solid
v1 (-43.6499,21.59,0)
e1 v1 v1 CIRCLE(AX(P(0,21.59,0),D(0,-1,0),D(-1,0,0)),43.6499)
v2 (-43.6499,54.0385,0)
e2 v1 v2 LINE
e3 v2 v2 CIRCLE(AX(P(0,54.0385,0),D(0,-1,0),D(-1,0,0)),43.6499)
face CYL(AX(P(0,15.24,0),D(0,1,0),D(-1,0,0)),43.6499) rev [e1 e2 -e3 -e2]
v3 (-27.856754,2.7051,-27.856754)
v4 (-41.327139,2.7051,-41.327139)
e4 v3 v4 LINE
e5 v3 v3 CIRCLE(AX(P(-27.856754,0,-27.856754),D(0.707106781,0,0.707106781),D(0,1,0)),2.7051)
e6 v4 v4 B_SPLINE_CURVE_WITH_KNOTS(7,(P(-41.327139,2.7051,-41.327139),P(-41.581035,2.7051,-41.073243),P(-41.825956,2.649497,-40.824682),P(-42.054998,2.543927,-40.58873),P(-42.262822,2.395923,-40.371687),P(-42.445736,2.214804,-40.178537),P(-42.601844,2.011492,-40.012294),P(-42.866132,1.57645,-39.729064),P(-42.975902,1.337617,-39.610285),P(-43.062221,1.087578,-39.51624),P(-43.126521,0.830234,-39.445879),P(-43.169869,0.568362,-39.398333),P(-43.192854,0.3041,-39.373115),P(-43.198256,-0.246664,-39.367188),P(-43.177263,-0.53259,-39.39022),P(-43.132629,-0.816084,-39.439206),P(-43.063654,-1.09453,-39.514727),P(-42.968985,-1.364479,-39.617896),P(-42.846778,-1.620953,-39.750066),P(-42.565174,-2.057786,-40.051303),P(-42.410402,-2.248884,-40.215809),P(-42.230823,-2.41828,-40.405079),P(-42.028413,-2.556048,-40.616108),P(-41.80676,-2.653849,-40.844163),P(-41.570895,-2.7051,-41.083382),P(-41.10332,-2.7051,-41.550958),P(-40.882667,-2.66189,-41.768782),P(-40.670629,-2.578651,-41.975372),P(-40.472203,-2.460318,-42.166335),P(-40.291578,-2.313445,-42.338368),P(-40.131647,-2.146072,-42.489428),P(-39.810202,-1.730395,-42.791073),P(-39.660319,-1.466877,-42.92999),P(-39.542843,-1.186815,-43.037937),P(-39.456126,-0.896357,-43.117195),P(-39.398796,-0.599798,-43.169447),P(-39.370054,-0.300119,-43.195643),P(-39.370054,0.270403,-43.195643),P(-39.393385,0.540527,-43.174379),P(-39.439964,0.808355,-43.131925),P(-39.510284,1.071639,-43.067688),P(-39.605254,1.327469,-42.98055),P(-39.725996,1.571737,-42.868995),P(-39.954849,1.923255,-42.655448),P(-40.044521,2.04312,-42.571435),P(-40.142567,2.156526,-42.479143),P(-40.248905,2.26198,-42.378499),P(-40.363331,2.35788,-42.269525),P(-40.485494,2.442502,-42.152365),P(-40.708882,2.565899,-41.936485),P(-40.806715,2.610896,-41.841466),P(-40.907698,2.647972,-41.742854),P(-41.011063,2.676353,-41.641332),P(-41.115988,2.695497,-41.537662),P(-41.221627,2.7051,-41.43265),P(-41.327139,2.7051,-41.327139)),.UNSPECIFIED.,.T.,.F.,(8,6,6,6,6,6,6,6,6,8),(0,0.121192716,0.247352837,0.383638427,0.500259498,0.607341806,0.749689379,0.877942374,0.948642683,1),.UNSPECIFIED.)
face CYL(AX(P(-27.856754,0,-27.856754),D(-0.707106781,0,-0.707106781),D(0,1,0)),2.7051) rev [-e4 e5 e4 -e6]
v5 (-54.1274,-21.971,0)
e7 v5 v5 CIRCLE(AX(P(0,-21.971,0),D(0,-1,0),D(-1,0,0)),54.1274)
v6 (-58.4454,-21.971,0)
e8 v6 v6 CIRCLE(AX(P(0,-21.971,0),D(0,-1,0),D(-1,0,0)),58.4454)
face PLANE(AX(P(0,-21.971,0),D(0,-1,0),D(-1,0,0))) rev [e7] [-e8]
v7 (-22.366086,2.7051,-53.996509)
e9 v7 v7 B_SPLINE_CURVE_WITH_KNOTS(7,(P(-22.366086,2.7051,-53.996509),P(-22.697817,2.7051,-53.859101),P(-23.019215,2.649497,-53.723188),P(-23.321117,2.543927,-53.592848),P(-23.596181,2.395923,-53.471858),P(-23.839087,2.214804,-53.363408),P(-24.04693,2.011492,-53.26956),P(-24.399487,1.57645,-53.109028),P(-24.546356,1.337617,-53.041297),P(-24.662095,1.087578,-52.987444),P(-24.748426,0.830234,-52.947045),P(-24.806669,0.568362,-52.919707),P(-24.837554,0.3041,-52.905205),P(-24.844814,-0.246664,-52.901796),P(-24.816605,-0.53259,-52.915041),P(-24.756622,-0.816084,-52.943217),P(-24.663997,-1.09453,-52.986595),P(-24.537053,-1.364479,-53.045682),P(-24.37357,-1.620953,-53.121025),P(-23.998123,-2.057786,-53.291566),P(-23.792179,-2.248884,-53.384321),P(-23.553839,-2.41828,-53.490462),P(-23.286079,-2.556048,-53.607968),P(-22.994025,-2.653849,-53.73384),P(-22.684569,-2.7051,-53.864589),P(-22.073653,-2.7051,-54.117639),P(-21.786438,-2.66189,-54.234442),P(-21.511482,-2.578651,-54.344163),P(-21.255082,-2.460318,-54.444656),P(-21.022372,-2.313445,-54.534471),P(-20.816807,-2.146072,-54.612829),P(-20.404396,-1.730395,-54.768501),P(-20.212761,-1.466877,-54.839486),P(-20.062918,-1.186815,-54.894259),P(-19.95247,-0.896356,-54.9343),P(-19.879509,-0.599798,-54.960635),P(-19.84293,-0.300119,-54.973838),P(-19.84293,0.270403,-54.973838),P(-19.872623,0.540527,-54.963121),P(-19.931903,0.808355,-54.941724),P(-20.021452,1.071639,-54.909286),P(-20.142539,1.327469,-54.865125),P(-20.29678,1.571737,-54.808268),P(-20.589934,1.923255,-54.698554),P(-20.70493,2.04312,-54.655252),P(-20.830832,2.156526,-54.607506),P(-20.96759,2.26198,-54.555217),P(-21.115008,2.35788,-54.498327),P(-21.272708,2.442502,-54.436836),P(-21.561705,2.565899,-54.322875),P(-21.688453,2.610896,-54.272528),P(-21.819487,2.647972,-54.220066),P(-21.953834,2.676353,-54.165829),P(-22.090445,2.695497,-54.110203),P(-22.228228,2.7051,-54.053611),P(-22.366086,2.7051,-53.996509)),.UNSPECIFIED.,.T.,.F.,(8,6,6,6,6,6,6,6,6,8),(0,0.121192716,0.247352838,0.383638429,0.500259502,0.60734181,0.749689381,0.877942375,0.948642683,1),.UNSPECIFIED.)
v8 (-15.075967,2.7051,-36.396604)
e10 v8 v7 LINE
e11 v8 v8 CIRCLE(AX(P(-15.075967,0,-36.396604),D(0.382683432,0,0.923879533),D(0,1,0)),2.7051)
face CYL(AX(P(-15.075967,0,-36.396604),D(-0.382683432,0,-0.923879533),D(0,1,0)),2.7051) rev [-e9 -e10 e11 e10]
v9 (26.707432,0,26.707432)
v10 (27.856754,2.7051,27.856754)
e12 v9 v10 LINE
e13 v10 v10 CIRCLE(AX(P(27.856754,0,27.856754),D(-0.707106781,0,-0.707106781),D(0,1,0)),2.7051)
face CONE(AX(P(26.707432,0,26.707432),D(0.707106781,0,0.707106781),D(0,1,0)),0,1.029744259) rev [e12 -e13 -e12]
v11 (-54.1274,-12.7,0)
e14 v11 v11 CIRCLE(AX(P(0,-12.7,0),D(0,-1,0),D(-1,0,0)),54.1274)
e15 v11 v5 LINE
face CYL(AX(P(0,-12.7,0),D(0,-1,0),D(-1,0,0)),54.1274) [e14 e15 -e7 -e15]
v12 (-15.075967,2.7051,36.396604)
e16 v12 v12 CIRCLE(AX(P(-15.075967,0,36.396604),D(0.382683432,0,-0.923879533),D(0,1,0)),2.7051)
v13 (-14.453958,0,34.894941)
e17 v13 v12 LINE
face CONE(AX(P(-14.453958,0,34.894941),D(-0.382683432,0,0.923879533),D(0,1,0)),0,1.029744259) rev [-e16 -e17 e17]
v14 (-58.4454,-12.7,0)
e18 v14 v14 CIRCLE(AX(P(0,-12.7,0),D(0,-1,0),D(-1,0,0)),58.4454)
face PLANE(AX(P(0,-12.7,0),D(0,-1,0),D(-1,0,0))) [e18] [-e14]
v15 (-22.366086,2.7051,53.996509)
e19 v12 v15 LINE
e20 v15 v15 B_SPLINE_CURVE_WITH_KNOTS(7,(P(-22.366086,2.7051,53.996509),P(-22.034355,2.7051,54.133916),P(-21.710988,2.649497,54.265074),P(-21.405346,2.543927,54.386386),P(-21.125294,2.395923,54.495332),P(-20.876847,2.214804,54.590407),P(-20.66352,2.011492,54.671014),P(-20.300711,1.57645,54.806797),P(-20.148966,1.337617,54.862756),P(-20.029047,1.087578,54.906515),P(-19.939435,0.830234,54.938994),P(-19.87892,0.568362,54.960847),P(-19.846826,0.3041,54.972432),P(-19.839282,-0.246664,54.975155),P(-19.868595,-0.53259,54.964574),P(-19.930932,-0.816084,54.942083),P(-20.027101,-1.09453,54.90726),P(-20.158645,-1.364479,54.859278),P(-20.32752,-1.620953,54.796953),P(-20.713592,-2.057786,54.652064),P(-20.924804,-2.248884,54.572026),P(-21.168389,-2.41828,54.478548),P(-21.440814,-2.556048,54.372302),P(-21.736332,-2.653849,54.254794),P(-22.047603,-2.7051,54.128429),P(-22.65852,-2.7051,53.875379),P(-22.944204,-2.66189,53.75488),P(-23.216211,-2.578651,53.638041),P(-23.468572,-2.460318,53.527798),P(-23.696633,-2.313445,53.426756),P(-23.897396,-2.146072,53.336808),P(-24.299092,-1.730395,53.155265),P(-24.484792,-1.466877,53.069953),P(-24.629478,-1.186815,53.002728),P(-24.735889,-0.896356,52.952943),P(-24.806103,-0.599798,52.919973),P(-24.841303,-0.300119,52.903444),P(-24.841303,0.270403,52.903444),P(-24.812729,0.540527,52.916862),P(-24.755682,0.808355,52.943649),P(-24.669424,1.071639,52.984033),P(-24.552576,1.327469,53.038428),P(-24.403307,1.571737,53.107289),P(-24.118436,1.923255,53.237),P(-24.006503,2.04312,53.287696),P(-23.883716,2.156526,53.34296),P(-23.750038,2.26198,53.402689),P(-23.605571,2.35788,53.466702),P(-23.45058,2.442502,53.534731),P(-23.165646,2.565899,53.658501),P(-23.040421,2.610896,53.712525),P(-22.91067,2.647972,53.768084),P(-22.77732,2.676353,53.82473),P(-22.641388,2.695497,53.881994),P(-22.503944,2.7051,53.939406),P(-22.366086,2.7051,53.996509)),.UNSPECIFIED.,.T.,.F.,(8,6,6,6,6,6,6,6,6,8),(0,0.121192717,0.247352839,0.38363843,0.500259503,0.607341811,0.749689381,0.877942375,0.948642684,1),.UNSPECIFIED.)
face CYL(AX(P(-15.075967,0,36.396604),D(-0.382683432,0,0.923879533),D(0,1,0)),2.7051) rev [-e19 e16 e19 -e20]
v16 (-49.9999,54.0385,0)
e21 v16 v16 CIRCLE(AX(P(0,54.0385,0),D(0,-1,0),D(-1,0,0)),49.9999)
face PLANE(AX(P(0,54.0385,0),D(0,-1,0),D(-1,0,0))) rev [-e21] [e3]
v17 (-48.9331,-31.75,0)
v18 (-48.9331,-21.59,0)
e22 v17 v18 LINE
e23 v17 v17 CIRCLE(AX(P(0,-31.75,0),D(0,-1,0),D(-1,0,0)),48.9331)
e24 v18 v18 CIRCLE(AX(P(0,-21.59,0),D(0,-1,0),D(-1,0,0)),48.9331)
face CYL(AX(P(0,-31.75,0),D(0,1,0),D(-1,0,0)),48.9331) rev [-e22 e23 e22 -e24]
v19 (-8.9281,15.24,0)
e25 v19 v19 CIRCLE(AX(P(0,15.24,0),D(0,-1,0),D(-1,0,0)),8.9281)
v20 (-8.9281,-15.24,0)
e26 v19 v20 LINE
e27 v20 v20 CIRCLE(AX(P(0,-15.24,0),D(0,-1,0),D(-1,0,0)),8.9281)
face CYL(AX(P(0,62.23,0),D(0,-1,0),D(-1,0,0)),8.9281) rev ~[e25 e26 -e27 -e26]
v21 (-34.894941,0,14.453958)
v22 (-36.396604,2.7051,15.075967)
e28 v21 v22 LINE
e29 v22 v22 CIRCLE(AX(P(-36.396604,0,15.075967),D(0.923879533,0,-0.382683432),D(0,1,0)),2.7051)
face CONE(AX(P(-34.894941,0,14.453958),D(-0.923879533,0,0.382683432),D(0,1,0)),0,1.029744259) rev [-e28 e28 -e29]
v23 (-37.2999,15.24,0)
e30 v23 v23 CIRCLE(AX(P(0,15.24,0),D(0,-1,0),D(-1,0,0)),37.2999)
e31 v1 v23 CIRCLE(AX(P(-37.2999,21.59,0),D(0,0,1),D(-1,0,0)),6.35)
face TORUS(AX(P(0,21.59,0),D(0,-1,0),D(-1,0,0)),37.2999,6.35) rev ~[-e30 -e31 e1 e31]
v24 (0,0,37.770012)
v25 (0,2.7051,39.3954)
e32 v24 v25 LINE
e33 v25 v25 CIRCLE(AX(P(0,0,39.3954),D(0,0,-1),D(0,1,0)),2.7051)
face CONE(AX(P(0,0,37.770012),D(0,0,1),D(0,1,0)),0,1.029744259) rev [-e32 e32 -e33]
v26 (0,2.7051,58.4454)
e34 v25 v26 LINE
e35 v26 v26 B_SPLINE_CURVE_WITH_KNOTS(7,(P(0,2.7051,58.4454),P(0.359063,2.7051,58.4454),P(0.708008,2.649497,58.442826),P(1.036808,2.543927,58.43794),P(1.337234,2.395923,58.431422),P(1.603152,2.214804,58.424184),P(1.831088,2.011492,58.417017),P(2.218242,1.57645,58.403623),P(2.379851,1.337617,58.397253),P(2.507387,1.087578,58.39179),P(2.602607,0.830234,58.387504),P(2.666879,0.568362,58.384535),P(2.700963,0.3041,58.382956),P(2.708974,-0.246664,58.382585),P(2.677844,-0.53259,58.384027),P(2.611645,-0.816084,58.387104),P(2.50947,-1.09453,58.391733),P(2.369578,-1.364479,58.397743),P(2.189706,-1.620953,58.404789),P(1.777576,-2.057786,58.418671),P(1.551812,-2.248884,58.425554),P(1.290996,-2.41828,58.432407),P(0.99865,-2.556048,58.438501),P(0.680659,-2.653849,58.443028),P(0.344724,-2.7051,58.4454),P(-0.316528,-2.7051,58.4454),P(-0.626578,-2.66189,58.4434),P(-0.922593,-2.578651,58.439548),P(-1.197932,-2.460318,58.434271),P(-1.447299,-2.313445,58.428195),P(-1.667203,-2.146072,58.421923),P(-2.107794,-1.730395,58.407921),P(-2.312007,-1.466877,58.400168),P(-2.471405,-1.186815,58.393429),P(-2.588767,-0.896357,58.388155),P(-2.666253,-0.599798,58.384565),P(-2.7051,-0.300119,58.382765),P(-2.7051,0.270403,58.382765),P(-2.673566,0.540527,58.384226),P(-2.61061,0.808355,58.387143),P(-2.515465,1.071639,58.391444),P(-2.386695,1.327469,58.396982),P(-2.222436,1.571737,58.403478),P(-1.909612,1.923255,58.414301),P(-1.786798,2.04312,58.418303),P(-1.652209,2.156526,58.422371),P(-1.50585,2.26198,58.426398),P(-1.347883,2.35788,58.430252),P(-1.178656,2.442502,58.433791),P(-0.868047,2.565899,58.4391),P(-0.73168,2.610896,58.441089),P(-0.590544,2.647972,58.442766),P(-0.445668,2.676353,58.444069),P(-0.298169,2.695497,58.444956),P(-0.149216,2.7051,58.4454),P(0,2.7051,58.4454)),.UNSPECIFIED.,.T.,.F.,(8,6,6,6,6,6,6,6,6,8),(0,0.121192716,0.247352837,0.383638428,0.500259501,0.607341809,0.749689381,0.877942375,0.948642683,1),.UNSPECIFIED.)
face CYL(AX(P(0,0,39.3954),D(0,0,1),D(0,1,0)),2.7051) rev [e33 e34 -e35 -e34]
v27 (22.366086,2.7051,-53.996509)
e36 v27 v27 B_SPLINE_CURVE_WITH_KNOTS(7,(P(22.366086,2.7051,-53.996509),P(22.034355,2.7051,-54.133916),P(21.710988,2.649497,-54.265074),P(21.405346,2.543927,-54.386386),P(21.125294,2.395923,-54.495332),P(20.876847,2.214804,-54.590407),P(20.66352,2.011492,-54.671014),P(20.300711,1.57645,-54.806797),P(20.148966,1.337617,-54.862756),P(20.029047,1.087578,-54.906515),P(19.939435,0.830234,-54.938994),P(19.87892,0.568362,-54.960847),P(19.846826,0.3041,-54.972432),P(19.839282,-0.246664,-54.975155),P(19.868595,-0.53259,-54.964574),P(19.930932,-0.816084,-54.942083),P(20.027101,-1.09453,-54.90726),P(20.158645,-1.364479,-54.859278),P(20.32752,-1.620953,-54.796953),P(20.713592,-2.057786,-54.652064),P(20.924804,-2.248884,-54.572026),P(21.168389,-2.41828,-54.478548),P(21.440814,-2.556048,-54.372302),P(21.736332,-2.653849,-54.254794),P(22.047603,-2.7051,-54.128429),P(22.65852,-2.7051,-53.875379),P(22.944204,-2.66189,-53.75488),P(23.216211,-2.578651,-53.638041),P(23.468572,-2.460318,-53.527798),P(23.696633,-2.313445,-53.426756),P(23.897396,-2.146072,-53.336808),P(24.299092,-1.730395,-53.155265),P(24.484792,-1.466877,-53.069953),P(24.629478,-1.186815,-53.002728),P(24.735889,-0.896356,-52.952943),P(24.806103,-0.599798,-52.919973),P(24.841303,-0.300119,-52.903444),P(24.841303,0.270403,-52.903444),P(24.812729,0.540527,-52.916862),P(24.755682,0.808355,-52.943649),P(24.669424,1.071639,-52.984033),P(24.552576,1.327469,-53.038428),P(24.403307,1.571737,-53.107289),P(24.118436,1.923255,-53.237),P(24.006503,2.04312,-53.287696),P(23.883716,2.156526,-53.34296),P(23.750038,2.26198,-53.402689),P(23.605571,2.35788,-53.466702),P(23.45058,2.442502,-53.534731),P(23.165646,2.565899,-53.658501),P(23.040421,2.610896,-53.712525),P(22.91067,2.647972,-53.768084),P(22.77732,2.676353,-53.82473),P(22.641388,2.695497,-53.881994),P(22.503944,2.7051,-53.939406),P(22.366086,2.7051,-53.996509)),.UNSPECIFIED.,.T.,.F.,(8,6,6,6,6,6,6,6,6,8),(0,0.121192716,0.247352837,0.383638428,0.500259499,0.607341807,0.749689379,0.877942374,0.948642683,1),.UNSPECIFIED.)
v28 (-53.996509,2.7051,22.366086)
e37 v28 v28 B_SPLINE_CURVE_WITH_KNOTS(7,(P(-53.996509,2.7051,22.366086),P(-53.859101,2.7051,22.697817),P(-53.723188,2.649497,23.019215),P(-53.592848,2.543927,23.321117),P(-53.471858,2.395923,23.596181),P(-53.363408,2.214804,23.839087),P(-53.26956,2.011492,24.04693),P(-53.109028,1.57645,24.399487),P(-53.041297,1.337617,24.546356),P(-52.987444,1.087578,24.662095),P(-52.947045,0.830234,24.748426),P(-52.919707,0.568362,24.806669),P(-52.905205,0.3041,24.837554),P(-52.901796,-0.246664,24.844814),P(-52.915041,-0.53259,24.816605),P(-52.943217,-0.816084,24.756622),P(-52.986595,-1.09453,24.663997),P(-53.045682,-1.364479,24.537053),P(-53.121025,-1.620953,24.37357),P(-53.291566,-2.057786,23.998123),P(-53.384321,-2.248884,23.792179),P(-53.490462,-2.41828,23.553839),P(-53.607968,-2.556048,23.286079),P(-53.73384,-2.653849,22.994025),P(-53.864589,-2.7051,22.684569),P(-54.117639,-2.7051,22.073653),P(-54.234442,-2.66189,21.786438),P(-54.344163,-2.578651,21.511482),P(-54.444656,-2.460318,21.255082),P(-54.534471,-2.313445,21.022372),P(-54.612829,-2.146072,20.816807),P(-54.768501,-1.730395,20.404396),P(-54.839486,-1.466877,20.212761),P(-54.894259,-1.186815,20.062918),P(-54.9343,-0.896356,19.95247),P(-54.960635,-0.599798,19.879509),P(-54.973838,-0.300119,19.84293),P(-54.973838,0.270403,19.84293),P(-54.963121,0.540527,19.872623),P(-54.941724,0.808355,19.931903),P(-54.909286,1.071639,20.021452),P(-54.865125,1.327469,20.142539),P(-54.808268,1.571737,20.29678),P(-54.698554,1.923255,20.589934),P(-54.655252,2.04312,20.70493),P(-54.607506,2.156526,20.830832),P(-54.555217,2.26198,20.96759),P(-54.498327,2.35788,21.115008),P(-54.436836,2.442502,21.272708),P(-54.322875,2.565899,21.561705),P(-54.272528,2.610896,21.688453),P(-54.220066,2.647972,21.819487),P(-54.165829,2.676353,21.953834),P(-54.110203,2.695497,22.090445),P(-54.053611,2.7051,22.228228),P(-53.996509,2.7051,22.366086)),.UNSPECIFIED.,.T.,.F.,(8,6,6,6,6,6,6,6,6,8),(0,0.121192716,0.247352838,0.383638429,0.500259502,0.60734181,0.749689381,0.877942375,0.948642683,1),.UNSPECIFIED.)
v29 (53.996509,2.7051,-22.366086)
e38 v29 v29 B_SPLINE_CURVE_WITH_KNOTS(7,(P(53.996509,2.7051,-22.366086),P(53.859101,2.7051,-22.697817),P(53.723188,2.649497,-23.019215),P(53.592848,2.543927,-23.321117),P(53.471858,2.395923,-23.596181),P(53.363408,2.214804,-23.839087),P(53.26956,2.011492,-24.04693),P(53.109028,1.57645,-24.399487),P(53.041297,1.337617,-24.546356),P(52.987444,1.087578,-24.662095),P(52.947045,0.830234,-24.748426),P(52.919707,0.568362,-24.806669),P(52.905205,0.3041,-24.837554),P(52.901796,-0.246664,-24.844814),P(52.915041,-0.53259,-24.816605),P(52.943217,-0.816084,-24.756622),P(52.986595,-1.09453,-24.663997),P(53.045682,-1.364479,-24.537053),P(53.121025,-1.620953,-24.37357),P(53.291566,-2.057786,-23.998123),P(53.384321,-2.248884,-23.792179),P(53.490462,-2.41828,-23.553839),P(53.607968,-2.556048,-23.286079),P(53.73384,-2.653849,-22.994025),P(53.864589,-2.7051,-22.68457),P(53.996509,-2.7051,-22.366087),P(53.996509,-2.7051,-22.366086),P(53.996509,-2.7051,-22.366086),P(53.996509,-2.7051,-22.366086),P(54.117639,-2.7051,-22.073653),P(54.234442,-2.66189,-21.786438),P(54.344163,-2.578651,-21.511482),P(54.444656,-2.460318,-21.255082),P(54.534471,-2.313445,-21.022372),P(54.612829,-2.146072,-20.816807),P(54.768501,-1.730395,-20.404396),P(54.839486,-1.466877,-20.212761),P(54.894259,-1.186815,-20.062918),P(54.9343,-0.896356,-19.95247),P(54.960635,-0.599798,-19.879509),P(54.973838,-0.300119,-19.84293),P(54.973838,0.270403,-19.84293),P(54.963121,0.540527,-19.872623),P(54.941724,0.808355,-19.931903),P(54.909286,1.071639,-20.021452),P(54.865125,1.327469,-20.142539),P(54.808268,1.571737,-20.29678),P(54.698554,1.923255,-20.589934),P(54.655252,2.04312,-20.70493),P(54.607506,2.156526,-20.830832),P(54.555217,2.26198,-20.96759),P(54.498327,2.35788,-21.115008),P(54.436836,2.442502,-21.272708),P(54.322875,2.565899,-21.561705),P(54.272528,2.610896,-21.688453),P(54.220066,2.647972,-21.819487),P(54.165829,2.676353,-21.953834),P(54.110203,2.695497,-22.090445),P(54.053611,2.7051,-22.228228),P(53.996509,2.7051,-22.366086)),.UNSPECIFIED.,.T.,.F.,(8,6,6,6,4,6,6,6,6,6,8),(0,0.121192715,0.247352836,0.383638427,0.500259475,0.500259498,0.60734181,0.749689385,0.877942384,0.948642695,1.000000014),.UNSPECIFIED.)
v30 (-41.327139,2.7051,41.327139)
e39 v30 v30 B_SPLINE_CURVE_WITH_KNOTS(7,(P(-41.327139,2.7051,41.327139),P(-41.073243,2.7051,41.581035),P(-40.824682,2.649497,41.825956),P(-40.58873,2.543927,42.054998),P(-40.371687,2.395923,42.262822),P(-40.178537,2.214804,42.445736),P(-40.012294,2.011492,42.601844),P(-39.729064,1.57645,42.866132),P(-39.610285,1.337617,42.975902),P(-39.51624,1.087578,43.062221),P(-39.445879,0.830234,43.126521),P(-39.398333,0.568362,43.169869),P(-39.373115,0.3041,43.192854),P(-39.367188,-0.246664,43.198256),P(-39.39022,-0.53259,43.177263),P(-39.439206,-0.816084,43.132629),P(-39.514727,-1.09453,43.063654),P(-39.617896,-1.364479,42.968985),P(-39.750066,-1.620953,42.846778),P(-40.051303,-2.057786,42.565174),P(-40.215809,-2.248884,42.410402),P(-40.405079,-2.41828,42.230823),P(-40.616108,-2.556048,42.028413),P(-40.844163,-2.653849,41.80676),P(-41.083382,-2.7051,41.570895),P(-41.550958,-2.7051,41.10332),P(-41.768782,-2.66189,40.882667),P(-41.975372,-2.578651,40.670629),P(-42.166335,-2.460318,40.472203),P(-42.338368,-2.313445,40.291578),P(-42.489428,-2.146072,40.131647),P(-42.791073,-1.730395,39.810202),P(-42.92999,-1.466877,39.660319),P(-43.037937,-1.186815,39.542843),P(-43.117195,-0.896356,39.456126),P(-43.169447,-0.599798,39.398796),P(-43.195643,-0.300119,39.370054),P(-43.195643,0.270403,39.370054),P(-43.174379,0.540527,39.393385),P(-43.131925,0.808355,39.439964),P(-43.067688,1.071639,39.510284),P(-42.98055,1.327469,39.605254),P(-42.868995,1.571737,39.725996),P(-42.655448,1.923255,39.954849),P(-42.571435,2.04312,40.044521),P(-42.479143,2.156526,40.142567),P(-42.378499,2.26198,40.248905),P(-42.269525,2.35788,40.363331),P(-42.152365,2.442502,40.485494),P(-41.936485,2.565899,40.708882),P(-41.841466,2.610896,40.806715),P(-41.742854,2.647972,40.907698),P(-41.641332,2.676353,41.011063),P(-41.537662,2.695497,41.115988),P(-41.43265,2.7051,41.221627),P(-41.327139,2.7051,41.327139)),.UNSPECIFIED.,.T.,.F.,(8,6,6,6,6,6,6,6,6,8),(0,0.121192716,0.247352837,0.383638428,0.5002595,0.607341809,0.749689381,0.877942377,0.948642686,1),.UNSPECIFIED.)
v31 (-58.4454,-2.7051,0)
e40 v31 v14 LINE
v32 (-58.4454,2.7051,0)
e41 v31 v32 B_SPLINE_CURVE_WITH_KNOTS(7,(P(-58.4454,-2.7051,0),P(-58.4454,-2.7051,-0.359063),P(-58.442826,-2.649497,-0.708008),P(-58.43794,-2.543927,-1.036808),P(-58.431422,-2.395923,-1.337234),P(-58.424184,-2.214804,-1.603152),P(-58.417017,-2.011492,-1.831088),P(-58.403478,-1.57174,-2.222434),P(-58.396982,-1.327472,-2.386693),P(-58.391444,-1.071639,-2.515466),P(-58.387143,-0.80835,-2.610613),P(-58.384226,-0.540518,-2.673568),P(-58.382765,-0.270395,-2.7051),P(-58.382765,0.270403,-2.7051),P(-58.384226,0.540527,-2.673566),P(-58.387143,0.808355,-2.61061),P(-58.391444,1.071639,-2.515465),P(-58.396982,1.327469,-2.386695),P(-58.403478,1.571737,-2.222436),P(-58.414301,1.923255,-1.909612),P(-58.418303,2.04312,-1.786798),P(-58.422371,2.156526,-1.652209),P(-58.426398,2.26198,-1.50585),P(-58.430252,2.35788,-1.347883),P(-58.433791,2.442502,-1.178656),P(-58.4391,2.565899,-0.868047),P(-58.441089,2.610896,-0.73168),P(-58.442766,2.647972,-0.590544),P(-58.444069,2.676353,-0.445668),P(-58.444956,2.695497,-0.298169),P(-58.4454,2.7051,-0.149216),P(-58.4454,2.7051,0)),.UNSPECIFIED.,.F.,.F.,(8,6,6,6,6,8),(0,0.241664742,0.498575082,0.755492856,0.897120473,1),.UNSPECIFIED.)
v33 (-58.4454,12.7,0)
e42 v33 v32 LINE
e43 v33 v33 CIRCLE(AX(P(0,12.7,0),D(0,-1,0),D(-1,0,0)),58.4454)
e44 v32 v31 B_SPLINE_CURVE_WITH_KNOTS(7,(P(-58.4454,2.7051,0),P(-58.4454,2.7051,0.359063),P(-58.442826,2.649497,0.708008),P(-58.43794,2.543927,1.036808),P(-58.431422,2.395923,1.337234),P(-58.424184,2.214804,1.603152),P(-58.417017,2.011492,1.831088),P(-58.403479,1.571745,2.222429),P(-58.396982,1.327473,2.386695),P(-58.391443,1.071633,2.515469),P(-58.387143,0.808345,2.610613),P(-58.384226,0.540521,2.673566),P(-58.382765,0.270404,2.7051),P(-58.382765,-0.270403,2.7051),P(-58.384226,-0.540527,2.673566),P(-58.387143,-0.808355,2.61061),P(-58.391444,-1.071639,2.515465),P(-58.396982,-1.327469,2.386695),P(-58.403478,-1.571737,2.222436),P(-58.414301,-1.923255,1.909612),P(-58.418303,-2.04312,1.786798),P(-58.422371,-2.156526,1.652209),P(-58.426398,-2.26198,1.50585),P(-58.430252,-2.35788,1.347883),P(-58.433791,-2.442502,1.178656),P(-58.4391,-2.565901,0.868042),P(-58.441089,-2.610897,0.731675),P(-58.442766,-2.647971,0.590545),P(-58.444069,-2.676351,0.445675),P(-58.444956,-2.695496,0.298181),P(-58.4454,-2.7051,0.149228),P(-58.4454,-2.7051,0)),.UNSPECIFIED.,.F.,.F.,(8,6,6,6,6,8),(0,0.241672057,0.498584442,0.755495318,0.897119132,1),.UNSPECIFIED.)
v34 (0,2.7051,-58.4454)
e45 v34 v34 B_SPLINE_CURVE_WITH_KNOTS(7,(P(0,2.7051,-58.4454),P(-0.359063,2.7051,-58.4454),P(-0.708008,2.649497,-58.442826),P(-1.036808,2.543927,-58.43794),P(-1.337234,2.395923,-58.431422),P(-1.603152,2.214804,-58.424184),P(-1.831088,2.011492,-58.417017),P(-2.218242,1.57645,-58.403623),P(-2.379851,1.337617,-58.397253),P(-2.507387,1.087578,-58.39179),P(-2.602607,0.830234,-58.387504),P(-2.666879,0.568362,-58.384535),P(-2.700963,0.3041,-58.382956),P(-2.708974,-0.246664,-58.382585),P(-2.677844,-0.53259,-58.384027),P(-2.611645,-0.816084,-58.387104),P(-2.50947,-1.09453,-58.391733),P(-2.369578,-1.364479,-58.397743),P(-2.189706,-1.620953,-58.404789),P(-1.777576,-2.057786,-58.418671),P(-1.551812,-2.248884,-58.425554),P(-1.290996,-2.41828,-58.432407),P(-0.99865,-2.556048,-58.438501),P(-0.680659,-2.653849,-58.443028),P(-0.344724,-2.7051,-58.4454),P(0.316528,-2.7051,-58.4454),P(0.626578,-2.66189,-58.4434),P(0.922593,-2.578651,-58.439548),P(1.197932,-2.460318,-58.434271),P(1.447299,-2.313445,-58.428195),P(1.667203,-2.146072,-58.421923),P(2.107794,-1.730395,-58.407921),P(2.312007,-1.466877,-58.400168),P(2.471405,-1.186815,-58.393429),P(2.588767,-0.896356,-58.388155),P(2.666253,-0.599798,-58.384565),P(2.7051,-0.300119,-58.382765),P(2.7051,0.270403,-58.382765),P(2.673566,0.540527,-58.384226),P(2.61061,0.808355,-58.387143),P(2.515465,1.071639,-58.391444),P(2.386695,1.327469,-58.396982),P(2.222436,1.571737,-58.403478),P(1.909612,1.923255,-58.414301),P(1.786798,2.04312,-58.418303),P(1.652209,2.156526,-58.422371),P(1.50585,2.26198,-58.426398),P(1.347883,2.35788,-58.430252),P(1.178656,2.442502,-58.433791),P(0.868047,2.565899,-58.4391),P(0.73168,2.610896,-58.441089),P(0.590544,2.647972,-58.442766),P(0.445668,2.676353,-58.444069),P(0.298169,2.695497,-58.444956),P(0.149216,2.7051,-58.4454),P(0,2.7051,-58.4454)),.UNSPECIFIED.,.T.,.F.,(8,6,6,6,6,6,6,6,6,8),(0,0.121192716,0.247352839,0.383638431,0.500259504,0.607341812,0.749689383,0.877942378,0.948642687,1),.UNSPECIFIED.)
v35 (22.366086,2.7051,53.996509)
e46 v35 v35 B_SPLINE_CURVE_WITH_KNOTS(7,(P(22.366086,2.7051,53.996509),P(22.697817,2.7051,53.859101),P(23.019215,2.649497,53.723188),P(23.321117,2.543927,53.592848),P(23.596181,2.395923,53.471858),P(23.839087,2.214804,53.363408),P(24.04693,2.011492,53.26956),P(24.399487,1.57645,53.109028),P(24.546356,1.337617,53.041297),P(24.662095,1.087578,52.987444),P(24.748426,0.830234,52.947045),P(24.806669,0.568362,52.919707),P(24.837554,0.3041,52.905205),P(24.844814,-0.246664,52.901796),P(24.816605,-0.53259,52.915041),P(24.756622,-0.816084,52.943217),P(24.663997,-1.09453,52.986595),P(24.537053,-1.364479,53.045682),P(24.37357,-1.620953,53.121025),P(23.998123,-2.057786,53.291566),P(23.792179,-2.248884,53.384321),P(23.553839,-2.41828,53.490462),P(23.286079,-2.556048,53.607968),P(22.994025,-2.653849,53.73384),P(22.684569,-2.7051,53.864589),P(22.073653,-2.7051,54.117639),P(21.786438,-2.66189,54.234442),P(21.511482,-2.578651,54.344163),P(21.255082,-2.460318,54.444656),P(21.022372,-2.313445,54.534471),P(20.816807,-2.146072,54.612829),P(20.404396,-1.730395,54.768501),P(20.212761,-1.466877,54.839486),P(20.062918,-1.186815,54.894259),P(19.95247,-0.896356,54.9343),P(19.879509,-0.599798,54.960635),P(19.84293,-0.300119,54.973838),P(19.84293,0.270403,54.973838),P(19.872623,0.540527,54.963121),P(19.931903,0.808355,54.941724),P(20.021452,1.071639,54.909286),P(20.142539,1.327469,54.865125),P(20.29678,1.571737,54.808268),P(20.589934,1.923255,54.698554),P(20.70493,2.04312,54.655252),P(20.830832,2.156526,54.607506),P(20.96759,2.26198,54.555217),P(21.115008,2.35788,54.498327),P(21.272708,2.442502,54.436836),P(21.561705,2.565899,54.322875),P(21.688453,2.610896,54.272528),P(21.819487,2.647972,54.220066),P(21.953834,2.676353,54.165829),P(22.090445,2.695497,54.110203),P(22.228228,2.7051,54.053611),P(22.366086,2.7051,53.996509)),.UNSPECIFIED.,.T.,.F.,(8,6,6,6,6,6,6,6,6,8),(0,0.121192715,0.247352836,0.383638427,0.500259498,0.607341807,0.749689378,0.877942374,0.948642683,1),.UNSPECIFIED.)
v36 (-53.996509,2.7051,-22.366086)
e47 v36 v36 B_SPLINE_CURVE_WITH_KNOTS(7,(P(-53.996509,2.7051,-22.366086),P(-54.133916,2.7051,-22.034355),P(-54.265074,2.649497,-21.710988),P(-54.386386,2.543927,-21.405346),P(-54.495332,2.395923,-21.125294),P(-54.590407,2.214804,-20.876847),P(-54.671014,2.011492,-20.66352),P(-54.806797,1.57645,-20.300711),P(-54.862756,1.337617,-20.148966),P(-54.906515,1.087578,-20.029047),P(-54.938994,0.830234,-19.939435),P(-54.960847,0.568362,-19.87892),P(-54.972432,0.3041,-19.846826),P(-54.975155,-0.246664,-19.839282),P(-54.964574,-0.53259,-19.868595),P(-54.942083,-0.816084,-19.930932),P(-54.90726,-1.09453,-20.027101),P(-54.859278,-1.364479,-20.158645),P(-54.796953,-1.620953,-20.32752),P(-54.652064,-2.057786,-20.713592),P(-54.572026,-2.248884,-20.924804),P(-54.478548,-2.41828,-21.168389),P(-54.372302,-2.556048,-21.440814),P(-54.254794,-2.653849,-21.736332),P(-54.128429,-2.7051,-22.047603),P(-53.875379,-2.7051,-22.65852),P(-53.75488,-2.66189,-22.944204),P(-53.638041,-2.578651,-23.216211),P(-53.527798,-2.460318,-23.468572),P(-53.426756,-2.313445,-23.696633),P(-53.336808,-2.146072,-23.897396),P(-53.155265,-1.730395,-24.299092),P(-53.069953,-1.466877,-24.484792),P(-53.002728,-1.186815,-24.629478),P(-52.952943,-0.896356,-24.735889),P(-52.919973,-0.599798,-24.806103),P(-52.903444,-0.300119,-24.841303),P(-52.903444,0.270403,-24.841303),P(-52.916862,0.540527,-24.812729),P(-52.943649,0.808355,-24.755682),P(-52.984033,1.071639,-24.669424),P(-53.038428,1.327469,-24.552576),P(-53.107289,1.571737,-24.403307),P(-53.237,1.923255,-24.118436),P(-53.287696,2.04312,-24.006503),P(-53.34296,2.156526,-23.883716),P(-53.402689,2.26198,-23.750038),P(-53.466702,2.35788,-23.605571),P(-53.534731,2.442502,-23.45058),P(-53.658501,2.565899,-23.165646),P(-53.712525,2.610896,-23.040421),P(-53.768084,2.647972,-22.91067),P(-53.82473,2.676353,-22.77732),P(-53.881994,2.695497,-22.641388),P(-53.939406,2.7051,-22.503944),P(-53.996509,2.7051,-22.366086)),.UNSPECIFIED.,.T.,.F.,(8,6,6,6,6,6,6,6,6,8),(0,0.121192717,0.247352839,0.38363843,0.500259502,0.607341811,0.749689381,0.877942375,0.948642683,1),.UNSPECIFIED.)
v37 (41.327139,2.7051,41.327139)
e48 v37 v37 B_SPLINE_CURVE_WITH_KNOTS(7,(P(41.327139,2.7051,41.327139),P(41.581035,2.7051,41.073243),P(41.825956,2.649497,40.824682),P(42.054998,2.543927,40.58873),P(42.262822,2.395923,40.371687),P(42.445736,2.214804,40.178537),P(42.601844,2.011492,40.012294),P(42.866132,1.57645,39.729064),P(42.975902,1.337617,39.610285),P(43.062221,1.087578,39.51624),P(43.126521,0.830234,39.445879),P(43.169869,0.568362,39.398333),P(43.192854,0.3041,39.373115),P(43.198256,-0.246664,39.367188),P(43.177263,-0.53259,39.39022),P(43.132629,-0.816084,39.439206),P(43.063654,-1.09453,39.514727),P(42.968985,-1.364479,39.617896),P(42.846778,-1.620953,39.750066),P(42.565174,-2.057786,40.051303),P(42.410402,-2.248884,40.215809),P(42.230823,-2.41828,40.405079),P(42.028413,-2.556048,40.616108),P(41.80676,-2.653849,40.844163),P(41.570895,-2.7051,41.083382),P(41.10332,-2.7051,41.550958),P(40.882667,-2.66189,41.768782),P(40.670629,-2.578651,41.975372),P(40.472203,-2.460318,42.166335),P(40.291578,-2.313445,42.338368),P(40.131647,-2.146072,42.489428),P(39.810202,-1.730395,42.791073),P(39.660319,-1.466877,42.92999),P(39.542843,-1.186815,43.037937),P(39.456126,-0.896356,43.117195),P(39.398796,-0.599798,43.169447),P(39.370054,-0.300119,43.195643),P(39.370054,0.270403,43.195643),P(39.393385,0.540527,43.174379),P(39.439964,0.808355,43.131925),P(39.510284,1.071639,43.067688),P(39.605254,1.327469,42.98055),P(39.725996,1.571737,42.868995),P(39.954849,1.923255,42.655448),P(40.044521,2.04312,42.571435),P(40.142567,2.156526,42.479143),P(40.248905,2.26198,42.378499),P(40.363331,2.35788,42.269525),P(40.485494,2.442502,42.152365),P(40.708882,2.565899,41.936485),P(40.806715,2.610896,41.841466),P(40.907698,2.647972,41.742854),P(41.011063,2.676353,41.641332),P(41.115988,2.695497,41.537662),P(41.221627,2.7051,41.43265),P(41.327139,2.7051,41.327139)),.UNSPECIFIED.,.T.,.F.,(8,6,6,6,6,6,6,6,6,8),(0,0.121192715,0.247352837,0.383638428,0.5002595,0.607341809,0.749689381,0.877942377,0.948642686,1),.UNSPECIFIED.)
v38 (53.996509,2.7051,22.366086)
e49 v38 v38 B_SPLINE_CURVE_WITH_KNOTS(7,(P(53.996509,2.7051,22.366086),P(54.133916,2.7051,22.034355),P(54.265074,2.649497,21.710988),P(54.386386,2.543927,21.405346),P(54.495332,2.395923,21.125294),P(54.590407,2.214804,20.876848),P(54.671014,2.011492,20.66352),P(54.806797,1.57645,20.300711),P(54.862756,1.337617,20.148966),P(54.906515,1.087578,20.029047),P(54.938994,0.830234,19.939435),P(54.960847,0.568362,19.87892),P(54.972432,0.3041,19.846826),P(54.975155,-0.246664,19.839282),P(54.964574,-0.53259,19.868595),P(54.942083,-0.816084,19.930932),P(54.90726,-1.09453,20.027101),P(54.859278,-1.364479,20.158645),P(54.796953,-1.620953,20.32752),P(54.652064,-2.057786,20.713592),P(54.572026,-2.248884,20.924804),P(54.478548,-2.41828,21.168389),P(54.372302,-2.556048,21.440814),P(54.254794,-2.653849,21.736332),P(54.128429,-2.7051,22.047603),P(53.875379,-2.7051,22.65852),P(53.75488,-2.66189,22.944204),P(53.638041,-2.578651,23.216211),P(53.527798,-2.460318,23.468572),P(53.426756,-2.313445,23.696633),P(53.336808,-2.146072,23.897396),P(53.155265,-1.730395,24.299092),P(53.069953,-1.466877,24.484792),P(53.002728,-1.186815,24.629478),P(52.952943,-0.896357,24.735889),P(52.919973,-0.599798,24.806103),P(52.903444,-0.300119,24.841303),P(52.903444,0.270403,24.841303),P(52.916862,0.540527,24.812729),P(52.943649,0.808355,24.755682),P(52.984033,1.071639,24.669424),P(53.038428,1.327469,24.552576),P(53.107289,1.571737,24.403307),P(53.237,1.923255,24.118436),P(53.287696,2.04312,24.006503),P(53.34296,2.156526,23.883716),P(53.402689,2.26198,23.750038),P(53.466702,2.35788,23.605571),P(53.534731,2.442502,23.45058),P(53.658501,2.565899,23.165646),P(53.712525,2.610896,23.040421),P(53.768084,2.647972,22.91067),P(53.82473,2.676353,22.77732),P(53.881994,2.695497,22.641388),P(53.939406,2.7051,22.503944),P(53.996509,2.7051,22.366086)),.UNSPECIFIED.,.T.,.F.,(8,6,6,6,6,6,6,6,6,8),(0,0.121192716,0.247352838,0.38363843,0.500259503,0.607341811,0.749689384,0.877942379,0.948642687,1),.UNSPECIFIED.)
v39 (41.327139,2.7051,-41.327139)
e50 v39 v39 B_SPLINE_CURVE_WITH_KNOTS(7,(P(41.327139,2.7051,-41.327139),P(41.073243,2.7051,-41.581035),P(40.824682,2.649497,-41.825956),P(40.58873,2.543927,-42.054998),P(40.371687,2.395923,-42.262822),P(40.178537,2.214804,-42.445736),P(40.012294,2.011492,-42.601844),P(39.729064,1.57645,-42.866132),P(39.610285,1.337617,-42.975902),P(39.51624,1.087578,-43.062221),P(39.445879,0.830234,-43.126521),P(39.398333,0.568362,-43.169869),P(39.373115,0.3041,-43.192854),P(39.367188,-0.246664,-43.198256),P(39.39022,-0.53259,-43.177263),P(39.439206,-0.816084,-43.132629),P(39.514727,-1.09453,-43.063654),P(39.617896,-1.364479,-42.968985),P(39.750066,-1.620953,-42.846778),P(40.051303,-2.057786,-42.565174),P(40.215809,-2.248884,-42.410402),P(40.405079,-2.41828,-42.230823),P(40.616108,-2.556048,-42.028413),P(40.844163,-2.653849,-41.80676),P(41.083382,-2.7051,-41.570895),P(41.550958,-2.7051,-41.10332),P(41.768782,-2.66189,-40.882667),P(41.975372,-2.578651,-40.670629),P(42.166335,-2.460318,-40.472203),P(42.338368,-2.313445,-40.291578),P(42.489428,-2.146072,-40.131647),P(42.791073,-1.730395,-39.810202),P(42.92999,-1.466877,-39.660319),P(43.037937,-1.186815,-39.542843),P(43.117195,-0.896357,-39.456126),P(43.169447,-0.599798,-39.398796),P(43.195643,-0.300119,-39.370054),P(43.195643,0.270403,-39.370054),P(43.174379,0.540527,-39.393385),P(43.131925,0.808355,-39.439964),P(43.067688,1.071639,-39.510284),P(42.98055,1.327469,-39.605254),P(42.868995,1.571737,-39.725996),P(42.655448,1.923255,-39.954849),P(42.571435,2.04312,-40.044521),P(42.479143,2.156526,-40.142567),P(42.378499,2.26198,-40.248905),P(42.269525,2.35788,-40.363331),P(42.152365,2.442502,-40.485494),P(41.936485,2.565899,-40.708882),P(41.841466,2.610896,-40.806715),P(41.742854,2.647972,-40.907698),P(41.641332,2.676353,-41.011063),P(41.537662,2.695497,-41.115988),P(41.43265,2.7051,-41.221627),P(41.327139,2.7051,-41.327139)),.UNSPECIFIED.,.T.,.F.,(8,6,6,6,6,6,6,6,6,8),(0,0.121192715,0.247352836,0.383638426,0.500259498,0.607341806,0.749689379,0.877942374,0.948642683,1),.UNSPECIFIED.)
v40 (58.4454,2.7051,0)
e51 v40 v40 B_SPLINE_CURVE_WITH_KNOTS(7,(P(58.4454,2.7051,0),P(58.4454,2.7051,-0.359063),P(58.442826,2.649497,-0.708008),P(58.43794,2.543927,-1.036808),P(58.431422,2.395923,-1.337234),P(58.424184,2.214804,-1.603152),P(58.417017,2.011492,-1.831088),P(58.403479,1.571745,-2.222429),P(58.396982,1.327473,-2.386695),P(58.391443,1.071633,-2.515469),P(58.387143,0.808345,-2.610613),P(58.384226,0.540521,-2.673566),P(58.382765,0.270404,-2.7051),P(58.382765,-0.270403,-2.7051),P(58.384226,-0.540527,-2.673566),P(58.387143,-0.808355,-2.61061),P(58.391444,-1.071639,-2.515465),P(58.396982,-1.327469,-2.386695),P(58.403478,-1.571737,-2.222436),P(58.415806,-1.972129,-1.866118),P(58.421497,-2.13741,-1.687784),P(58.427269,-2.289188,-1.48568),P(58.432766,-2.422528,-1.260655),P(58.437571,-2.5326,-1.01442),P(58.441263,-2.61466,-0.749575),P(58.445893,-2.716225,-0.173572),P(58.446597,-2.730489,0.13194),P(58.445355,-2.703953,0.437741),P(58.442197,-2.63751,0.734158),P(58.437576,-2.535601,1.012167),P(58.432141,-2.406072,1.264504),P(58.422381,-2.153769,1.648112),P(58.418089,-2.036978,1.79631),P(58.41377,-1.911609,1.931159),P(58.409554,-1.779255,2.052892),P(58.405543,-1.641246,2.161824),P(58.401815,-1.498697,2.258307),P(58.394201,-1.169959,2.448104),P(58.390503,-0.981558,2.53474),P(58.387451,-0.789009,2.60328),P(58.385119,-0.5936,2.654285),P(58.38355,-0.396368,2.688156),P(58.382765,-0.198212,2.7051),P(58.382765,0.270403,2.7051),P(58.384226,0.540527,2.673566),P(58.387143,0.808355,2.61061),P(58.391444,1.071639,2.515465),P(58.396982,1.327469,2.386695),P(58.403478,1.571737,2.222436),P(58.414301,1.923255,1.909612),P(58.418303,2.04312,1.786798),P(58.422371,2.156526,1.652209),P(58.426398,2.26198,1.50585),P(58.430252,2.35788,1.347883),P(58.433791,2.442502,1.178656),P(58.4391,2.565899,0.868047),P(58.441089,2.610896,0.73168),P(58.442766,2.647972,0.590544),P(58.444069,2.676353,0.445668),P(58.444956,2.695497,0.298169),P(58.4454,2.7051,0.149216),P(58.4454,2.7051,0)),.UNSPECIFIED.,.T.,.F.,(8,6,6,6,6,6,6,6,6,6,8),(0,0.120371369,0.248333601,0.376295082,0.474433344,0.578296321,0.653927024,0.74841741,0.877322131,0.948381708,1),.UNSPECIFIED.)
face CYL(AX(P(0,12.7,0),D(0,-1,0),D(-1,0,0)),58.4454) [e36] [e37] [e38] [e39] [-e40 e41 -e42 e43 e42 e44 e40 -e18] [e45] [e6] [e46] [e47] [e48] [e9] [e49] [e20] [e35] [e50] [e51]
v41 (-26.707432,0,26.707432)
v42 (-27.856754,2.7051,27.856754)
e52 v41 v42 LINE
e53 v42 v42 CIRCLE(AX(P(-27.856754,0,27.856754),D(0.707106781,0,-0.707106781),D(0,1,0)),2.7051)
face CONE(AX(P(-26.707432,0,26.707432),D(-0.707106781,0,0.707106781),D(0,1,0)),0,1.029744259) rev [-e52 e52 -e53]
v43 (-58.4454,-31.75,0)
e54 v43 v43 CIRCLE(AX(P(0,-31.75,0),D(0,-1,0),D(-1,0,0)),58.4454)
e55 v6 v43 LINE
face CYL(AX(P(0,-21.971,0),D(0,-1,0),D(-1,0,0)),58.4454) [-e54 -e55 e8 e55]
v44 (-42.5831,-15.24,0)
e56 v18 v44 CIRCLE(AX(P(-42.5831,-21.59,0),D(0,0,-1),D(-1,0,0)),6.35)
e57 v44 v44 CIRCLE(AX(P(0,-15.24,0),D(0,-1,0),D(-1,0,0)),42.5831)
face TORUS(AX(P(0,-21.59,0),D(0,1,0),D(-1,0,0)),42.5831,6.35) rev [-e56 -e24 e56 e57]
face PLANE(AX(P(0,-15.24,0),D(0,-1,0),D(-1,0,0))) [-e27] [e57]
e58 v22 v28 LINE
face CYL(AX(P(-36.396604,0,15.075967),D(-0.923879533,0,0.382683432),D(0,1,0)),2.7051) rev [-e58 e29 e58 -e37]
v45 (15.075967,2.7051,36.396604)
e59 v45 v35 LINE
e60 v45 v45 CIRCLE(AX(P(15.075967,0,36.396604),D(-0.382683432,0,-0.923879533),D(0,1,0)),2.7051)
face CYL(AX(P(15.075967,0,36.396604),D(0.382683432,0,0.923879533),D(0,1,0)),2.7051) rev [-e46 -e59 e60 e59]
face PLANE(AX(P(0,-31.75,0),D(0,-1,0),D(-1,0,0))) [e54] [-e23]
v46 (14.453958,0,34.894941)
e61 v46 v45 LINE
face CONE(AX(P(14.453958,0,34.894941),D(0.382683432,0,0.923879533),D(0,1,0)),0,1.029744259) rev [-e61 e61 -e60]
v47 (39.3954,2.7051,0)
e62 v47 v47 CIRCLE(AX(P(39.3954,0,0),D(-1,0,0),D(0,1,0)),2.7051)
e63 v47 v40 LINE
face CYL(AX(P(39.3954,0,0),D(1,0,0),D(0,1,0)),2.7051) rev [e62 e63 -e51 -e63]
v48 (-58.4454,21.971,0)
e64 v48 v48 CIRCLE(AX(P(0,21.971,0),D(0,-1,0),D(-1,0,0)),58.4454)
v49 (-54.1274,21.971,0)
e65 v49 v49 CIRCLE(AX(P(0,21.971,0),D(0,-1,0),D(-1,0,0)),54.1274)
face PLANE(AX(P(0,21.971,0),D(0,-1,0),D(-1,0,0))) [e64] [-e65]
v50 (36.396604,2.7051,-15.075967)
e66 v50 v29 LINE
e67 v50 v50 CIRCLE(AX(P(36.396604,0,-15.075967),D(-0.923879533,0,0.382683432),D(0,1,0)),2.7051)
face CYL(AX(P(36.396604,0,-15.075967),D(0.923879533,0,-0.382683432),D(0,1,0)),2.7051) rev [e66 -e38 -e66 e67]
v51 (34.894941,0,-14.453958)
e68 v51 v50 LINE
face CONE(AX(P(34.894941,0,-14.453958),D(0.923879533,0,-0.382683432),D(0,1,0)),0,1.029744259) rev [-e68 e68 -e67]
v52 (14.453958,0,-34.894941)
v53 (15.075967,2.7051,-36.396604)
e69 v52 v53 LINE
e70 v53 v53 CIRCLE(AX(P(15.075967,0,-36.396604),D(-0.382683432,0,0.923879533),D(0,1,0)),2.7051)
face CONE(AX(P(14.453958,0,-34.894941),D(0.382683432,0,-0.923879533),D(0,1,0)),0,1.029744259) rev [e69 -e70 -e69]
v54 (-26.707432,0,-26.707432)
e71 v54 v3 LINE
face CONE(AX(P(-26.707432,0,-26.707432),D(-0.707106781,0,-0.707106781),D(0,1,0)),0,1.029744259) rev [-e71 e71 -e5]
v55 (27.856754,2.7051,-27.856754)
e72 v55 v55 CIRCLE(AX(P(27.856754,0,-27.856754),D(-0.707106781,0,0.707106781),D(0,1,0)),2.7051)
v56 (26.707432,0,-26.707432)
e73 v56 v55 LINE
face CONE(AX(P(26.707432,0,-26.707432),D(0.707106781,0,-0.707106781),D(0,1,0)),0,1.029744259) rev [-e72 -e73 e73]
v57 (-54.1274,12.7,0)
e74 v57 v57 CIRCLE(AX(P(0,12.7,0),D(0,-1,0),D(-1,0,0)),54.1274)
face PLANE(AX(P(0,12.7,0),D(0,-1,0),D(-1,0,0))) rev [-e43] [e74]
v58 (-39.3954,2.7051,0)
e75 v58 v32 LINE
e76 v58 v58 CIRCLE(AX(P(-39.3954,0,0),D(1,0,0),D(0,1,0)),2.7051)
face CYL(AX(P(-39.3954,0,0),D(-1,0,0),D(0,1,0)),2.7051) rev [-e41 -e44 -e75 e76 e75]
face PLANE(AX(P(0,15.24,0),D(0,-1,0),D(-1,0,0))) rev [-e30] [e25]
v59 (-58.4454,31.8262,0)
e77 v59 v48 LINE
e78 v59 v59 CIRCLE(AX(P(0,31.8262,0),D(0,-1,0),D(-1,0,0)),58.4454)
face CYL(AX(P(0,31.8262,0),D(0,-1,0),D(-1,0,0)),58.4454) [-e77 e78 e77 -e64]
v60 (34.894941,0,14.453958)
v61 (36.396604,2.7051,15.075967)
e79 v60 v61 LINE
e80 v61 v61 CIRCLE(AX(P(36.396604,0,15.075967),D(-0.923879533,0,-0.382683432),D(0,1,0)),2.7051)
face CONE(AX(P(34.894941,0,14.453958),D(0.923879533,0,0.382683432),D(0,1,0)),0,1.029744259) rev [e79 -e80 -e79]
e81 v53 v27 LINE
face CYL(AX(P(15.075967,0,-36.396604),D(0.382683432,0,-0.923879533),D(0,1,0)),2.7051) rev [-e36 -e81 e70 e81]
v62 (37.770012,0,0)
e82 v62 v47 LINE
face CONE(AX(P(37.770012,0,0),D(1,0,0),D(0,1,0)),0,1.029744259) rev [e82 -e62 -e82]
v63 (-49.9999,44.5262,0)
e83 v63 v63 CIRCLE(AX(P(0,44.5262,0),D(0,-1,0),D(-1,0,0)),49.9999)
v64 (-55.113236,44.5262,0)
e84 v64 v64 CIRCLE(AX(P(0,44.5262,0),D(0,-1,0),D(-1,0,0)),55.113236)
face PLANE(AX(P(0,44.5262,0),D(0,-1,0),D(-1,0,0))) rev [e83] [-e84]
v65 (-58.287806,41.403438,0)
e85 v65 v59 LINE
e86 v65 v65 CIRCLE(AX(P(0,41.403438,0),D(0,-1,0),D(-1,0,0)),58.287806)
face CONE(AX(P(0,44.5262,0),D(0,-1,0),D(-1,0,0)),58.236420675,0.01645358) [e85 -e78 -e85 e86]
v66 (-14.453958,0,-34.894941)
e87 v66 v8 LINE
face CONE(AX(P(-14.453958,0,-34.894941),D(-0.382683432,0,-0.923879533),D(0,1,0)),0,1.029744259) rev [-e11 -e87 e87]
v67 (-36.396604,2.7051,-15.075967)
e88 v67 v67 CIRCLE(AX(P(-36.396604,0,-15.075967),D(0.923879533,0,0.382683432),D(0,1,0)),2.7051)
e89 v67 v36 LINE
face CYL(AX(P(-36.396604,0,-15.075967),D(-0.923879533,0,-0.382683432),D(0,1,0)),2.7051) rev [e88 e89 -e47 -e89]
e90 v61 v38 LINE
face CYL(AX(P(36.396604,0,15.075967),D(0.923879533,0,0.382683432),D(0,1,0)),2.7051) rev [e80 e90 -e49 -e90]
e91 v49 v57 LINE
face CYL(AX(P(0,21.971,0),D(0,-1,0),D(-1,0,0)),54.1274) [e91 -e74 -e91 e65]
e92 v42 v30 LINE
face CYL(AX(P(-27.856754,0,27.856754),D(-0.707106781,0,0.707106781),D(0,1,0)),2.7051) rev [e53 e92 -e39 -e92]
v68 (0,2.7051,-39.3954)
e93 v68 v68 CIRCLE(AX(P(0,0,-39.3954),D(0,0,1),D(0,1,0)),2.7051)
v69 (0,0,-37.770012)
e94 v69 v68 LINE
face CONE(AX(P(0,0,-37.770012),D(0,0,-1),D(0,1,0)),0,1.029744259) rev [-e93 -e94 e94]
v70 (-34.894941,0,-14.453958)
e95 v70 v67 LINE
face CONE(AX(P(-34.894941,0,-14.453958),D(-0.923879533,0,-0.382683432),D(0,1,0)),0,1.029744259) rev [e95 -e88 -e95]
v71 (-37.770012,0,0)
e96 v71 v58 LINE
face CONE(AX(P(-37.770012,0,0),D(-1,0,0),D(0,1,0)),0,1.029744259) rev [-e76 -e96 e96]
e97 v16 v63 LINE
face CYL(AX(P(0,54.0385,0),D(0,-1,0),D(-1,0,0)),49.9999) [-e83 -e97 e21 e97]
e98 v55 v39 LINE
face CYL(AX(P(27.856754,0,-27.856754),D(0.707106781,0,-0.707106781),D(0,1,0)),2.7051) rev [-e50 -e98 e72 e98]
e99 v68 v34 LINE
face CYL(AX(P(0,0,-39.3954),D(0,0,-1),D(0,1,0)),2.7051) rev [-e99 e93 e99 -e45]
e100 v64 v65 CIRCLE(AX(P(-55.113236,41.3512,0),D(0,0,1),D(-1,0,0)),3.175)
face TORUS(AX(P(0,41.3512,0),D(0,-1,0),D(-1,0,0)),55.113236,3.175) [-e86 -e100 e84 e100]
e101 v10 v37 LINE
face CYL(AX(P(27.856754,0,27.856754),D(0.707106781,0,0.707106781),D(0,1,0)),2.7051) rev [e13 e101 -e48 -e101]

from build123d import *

# Parameters (mm, degrees)
TAPERFILLET_R                     = 3.175
HOLEPATTERN_COUNT                 = 16
POCKETFILLETS_R                   = 6.35
PIPE_TAP_DRILL_FOR_1_2_TAP1_D     = 17.8562
PIPE_TAP_DRILL_FOR_1_2_TAP1_DEPTH = 46.99
PIPE_TAP_DRILL_FOR_1_2_TAP1_TIP   = 5.364543693


with BuildPart() as part:
    # Sketch1 → Revolve1 (revolve)
    with BuildSketch(Plane.XY):
        Polygon((0, -15.24), (0, 0), (-58.4454, 0), (-58.4454, -12.7), (-54.1274, -12.7), (-54.1274, -21.971), (-58.4454, -21.971), (-58.4454, -31.75), (-48.9331, -31.75), (-48.9331, -15.24), align=None)
        Polygon((-58.4454, 0), (0, 0), (0, 15.24), (-43.6499, 15.24), (-43.6499, 54.0385), (-49.9999, 54.0385), (-49.9999, 44.5262), (-58.236420675, 44.5262), (-58.4454, 31.8262), (-58.4454, 21.971), (-54.1274, 21.971), (-54.1274, 12.7), (-58.4454, 12.7), align=None)
    revolve(axis=Axis((0, 31.75, 0), (0, -1, 0)))

    # TaperFillet
    taperfillet_edges = [part.edges().sort_by_distance(p)[0] for p in [
        (58.236420675, 44.5262, 0),
    ]]
    fillet(taperfillet_edges, radius=TAPERFILLET_R)

    # Sketch4 → Tap Drill for 1/4-28 Tap1 (revolve, cut)
    with BuildSketch(Plane(origin=(0, 0, -58.4454), x_dir=(0, 1, 0), z_dir=(1, 0, 0))):
        Polygon((0, 0), (0, 20.675388061), (2.7051, 19.05), (2.7051, 0), align=None)
    tap_drill_for_1_4_28_tap1 = revolve(axis=Axis((0, 0, -64.7954), (0, 0, 1)), mode=Mode.SUBTRACT)

    # HolePattern: Tap Drill for 1/4-28 Tap1 ×16 about axis
    holepattern_axis = Axis((0, -12.7, 0), (0, 1, 0))
    for i in range(1, HOLEPATTERN_COUNT):
        add(tap_drill_for_1_4_28_tap1.rotate(holepattern_axis, i * 360 / HOLEPATTERN_COUNT), mode=Mode.SUBTRACT)

    # PocketFillets
    pocketfillets_edges = [part.edges().sort_by_distance(p)[0] for p in [
        (43.6499, 15.24, 0),
        (48.9331, -15.24, 0),
    ]]
    fillet(pocketfillets_edges, radius=POCKETFILLETS_R)

    # Pipe Tap Drill for 1/2 Tap1
    with Locations(Plane(origin=(0, 15.24, 0), x_dir=(1, 0, 0), z_dir=(0, 1, 0))):
        with Locations((0, 0)):
            Hole(PIPE_TAP_DRILL_FOR_1_2_TAP1_D / 2, depth=PIPE_TAP_DRILL_FOR_1_2_TAP1_DEPTH)
            with Locations((0, 0, -(PIPE_TAP_DRILL_FOR_1_2_TAP1_DEPTH + PIPE_TAP_DRILL_FOR_1_2_TAP1_TIP / 2))):  # 118° drill point
                Cone(0, PIPE_TAP_DRILL_FOR_1_2_TAP1_D / 2, PIPE_TAP_DRILL_FOR_1_2_TAP1_TIP, mode=Mode.SUBTRACT)


solid = part.part
